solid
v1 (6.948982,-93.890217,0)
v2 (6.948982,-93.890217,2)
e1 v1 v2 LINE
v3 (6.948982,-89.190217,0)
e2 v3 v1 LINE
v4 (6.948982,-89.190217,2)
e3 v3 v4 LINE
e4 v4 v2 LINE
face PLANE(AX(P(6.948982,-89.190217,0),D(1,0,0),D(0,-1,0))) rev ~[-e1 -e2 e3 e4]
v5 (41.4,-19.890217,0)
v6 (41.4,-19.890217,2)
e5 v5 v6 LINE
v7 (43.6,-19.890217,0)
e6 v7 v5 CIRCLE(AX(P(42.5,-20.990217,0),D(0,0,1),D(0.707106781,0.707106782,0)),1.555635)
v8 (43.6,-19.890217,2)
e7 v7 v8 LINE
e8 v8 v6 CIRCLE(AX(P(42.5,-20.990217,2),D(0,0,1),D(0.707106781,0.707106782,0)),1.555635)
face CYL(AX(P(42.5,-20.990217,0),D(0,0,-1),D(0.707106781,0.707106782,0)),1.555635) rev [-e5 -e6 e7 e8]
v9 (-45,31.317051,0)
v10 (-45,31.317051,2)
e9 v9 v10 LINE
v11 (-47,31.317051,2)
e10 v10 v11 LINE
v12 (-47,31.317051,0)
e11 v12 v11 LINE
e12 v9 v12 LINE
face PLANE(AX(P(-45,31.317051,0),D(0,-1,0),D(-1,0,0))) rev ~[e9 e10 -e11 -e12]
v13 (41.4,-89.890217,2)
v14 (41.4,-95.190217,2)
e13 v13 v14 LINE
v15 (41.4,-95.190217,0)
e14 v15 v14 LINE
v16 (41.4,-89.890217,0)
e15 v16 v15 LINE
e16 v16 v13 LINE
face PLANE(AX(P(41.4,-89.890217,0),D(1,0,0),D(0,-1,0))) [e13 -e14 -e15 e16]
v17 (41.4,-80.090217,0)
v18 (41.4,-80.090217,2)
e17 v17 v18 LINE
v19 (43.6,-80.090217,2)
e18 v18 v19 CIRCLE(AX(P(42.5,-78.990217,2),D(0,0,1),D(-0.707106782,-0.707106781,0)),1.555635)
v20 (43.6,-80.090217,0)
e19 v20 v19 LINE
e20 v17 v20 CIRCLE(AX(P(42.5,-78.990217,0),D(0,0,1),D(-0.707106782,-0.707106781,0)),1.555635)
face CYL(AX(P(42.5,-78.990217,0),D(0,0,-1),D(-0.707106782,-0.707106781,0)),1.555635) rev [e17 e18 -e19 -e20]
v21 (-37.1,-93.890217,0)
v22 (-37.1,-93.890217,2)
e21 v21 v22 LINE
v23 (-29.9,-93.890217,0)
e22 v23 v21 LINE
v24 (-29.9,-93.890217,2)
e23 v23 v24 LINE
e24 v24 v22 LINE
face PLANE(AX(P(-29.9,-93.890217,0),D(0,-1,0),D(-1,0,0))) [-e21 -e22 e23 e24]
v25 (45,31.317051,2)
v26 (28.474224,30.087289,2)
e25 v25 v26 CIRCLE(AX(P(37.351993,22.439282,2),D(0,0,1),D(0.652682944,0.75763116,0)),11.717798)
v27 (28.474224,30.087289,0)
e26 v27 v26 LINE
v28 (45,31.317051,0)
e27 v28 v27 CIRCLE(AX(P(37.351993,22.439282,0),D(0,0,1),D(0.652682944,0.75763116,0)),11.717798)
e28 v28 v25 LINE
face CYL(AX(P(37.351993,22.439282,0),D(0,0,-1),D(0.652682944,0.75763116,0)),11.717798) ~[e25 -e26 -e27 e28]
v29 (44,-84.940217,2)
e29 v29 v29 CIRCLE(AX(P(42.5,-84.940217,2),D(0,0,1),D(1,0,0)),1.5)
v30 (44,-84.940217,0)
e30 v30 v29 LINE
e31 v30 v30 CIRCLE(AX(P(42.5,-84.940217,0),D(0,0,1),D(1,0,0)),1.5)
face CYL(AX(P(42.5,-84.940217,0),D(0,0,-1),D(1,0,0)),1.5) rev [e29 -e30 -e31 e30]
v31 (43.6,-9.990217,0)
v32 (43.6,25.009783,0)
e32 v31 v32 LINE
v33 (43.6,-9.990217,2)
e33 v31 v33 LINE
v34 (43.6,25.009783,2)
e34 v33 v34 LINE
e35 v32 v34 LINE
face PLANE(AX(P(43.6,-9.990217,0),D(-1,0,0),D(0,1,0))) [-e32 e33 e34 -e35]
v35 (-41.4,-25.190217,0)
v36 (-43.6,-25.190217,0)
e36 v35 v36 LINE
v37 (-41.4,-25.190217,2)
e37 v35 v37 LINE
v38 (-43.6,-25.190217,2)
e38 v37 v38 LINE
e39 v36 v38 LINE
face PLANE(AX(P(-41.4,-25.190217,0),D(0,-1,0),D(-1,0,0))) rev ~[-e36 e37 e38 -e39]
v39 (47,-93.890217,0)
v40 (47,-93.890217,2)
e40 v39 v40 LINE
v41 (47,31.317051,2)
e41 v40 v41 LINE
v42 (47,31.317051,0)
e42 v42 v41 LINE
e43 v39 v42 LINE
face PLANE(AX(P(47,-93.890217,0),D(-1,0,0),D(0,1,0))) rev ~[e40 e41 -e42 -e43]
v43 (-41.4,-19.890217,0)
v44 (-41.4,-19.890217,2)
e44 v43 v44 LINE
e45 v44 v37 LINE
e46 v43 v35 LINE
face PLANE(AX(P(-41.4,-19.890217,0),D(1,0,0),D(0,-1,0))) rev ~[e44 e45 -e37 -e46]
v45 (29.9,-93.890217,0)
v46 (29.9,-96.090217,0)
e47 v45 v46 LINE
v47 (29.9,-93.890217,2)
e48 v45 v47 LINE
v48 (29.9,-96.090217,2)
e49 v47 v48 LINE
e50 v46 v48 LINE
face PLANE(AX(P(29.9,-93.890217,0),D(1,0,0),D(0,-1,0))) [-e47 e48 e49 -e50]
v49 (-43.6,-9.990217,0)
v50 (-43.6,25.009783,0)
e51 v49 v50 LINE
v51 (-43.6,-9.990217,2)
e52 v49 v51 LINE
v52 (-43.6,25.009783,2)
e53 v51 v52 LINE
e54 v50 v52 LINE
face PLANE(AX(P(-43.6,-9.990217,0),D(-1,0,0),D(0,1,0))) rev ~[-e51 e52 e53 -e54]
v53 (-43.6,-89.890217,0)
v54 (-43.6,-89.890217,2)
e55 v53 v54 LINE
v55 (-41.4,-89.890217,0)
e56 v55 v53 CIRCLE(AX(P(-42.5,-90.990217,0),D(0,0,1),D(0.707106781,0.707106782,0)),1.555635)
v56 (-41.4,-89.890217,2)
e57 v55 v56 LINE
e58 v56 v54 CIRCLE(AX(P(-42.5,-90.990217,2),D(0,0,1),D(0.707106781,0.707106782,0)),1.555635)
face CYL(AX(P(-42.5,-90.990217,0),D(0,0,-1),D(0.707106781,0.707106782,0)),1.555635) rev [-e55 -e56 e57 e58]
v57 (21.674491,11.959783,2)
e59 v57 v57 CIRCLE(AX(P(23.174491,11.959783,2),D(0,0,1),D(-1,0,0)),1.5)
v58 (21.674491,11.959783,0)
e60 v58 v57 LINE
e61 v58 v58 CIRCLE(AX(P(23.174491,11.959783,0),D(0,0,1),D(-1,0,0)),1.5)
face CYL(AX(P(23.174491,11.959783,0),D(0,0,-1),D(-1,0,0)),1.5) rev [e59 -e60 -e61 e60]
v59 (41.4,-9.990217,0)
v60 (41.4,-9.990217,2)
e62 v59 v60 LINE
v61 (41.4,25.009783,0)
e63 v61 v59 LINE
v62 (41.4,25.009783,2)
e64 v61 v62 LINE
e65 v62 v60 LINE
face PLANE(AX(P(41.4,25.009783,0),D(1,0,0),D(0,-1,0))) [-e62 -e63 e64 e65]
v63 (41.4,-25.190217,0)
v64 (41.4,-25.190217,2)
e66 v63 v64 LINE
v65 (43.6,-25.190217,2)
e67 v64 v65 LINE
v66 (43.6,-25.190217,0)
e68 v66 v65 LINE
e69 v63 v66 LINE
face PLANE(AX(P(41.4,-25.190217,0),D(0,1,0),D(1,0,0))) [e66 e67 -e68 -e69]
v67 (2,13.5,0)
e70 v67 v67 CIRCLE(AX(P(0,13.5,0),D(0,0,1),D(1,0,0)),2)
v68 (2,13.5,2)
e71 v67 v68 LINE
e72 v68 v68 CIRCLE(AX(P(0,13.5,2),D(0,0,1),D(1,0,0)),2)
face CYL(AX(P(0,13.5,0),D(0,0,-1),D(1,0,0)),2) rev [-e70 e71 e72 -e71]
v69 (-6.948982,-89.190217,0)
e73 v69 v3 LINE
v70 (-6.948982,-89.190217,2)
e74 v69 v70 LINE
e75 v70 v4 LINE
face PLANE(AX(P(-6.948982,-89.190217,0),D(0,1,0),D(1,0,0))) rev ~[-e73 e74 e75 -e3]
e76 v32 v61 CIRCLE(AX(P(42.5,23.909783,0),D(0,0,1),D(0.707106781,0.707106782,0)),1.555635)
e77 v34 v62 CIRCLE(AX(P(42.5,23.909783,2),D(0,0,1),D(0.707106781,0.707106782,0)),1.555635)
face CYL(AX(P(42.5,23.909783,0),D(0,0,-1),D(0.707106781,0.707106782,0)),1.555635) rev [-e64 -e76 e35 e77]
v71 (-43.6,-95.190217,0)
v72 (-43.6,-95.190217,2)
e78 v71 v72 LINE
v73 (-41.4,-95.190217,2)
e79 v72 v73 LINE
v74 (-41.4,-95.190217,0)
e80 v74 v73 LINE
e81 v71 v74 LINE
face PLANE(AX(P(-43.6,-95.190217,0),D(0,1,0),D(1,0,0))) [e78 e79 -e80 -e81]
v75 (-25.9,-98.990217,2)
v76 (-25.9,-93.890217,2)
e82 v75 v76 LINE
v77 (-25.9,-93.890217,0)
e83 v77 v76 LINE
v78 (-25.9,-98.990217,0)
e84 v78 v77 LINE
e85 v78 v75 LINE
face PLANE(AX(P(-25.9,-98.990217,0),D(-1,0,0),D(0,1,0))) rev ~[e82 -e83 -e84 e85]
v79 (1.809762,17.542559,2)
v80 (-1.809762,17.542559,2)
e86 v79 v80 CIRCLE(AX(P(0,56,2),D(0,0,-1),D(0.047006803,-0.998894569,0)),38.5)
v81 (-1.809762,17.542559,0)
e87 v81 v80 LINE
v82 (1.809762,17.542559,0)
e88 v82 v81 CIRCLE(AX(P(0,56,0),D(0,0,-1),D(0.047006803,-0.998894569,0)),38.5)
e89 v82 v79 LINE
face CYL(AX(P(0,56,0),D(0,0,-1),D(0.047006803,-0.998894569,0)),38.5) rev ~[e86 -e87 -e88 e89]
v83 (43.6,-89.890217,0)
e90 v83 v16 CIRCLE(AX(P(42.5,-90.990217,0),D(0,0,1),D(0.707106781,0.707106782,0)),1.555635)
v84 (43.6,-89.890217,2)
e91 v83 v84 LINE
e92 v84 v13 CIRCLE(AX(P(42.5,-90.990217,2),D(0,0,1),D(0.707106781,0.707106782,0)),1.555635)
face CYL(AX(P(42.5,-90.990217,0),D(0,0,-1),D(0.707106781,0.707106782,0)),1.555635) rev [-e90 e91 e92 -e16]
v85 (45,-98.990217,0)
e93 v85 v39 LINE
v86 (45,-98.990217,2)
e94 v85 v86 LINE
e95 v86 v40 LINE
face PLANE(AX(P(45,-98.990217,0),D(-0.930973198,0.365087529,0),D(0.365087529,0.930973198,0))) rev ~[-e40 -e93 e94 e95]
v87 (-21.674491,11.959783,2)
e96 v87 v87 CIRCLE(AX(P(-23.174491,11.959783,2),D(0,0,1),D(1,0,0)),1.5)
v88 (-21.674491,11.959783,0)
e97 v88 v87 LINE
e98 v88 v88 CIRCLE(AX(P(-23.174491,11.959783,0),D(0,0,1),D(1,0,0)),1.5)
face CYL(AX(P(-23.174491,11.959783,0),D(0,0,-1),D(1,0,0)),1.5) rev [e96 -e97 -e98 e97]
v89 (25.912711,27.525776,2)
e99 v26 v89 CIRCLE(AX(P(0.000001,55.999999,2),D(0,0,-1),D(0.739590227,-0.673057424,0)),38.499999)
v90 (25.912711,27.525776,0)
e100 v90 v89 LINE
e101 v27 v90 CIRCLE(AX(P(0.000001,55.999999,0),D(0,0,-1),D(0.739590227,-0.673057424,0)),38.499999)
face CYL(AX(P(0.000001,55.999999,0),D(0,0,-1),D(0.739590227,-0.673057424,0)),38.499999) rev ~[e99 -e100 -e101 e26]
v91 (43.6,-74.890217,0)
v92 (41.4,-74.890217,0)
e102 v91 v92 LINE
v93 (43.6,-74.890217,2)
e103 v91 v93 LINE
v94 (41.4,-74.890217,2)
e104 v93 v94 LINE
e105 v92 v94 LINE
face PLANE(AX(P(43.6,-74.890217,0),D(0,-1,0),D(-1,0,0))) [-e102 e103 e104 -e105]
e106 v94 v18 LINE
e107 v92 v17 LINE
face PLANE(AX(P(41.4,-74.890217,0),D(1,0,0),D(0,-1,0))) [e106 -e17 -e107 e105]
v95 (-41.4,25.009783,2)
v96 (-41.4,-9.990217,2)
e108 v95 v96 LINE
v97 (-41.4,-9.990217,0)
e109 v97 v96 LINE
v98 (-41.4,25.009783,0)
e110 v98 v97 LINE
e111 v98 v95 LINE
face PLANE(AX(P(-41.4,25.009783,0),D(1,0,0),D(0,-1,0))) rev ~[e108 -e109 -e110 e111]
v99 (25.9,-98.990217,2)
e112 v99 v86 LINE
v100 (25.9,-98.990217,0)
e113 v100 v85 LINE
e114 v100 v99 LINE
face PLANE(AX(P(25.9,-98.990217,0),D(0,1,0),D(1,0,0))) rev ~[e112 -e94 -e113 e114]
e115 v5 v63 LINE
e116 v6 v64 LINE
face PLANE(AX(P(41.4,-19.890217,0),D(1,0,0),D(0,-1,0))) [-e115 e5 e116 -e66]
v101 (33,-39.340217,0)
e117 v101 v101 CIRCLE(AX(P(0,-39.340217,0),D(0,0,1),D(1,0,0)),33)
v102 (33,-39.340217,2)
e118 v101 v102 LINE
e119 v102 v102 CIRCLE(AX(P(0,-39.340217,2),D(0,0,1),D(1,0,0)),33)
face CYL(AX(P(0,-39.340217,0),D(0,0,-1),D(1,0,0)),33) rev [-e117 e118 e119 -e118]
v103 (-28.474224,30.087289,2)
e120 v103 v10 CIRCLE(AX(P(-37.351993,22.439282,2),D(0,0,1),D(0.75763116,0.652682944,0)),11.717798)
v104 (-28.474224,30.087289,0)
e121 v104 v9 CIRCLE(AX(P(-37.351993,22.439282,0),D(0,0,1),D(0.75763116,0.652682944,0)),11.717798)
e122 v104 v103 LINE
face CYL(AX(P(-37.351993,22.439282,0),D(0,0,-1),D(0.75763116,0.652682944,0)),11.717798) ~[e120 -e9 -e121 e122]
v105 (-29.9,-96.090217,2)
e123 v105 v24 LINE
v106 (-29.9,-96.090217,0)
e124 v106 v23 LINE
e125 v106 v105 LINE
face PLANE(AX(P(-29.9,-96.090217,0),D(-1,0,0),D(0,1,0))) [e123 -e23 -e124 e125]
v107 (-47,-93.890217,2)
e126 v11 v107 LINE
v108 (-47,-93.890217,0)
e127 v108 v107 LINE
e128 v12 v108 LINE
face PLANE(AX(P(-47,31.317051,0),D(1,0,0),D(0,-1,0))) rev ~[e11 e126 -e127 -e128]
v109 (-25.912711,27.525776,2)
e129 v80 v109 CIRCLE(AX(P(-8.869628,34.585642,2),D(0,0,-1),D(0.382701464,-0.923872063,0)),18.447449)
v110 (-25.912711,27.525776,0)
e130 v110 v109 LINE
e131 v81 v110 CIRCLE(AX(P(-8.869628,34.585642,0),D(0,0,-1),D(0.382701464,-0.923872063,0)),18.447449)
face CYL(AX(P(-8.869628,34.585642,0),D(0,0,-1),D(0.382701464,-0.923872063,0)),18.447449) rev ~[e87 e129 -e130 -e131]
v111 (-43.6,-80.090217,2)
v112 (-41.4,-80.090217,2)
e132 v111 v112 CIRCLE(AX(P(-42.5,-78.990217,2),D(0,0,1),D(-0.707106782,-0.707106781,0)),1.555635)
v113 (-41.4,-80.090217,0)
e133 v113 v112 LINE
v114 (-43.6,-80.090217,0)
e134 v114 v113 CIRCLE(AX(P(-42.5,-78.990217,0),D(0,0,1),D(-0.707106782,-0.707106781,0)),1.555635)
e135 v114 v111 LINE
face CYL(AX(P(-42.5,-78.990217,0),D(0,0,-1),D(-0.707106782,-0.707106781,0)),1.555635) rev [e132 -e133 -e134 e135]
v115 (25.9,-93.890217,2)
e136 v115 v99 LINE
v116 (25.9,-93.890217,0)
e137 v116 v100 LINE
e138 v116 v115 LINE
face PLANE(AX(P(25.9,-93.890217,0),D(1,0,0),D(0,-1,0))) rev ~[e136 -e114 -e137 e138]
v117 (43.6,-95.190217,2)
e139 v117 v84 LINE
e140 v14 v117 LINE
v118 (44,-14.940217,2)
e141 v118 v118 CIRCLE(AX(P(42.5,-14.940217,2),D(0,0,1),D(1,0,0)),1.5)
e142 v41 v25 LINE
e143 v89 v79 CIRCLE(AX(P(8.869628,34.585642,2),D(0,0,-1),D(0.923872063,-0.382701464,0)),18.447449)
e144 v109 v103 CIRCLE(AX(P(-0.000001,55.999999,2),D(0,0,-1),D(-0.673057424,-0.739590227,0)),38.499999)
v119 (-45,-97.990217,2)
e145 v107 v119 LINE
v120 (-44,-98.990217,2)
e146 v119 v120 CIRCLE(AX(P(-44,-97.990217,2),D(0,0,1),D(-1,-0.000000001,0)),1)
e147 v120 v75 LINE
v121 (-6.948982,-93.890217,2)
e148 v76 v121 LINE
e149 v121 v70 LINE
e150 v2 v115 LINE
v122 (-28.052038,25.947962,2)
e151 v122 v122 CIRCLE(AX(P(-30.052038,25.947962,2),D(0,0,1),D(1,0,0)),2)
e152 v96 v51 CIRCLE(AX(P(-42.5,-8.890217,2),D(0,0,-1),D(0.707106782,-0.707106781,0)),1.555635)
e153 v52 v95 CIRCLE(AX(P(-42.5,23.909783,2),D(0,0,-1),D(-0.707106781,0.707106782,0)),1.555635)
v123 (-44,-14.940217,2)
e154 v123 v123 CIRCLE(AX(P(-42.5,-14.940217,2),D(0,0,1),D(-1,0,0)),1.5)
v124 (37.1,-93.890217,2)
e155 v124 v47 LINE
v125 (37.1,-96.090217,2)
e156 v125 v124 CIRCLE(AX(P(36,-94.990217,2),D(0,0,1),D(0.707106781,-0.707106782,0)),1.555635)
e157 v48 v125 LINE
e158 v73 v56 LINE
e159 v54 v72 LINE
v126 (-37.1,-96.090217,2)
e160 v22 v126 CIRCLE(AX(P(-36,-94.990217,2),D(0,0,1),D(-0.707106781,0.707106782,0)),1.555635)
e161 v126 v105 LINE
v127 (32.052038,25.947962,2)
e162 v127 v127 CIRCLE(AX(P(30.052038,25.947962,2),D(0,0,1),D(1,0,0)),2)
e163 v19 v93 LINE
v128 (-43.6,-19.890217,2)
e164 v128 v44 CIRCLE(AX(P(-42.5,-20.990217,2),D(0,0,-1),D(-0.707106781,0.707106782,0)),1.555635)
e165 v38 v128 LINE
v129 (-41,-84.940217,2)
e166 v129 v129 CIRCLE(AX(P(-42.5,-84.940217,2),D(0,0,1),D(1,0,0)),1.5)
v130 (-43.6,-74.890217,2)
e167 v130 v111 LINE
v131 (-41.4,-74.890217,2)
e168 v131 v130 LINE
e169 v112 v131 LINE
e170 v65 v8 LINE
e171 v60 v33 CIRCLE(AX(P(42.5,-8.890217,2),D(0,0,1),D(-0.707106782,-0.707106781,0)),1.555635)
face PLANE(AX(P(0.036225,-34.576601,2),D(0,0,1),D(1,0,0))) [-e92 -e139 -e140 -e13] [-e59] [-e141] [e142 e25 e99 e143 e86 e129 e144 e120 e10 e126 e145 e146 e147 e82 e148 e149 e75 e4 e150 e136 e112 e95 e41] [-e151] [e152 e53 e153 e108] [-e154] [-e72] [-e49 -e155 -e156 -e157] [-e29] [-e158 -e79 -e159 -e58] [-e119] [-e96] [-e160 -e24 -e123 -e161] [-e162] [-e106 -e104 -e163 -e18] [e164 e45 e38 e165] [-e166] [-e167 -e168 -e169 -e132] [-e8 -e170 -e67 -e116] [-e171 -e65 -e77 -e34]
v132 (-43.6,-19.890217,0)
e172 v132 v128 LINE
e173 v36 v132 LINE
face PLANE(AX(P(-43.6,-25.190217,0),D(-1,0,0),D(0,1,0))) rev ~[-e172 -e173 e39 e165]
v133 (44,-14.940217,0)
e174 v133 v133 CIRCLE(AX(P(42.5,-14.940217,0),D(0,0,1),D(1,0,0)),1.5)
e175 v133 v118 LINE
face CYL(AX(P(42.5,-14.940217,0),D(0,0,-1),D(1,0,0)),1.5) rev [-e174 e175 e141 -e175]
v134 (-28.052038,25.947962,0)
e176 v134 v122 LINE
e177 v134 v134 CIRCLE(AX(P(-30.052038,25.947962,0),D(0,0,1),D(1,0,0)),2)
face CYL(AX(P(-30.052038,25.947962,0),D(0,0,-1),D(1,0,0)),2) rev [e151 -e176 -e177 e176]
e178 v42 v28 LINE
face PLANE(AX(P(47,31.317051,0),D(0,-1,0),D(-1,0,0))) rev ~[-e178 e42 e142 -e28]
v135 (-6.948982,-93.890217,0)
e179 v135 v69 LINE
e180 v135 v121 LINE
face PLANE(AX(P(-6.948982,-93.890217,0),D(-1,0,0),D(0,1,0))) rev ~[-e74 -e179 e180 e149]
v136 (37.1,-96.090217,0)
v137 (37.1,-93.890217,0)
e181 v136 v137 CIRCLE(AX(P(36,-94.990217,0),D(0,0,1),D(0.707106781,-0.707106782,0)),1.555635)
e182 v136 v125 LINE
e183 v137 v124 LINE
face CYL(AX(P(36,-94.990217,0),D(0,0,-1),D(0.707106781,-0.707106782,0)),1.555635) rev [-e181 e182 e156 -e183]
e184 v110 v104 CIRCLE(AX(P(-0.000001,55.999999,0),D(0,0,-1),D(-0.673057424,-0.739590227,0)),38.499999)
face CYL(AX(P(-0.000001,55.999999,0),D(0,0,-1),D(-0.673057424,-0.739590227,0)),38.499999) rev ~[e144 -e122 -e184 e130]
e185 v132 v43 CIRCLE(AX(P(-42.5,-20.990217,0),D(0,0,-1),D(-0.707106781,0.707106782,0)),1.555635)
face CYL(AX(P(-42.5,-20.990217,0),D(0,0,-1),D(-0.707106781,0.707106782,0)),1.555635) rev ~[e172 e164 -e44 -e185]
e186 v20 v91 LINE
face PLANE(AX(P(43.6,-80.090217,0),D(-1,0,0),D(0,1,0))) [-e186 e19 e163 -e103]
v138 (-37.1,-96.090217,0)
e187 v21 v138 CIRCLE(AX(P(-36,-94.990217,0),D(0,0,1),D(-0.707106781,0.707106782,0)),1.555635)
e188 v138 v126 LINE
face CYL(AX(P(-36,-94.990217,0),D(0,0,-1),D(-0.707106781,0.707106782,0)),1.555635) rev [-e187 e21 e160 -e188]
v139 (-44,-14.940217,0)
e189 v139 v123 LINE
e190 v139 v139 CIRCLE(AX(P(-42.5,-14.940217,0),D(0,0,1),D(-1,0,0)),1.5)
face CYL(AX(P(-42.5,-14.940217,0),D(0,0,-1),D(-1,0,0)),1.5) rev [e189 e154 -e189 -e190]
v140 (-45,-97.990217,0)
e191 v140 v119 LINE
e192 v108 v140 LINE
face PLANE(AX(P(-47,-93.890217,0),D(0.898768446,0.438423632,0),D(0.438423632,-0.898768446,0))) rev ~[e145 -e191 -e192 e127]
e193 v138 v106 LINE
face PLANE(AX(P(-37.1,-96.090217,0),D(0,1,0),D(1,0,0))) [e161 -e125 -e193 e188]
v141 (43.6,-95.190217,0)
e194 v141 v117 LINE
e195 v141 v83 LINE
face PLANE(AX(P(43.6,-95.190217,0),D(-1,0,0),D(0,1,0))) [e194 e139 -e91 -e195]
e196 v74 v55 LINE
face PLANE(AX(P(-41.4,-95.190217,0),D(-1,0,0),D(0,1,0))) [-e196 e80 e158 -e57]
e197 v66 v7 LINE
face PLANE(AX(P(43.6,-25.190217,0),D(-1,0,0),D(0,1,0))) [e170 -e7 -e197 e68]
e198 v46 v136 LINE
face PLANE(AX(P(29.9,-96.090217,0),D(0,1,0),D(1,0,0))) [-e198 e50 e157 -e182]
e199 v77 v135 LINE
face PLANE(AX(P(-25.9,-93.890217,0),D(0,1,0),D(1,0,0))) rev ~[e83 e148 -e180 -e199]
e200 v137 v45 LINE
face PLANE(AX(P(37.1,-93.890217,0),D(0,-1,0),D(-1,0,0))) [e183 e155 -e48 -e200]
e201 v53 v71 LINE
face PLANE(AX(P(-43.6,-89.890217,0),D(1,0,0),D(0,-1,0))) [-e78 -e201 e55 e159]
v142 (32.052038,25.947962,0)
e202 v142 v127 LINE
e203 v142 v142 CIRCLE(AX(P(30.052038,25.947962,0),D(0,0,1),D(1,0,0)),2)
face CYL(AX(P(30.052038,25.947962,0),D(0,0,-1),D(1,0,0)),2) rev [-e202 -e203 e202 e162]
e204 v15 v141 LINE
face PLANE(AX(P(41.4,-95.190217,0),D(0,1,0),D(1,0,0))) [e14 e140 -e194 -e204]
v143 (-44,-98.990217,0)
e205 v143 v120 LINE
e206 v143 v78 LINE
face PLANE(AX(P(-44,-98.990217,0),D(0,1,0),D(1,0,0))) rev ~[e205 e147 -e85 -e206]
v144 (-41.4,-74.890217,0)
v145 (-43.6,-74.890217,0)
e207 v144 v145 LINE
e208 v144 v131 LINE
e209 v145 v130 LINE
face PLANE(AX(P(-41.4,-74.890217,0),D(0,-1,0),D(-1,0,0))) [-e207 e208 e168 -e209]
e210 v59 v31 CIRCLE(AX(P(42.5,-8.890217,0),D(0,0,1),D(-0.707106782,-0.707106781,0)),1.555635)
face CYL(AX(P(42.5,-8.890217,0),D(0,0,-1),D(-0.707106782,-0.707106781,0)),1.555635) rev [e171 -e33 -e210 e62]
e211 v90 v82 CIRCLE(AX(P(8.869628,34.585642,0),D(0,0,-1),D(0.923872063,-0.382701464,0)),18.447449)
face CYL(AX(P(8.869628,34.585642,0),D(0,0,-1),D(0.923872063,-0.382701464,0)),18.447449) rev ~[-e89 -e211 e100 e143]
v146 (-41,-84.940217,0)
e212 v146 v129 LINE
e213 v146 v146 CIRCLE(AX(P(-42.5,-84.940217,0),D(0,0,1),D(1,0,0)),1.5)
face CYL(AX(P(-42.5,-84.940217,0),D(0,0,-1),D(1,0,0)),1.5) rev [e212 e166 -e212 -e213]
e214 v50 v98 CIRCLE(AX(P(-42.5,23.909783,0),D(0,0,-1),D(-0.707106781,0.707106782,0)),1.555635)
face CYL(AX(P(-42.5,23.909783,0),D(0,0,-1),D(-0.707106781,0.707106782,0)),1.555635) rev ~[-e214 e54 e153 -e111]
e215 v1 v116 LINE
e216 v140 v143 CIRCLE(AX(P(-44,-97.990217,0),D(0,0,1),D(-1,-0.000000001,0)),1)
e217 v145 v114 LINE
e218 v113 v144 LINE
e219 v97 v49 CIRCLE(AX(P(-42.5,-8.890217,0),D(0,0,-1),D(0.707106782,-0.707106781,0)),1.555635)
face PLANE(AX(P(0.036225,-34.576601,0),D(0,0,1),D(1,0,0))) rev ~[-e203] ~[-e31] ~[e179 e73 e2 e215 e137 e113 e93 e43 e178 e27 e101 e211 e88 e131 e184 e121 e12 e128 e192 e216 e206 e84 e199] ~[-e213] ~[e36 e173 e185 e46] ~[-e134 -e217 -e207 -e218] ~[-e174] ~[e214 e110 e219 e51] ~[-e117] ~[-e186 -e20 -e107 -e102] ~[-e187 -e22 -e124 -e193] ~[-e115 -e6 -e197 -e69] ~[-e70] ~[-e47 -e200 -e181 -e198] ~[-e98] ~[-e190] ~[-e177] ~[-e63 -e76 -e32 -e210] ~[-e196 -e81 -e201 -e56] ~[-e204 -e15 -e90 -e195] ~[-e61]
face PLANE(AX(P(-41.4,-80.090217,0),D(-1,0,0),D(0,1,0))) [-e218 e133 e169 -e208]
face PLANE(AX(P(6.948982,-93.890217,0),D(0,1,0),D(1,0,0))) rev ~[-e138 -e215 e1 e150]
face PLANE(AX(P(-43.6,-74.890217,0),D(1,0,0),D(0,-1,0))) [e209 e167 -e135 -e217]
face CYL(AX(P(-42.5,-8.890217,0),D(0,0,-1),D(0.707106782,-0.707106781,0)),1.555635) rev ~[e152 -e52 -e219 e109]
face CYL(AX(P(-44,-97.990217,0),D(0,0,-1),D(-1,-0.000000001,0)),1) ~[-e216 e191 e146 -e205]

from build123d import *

# Parameters (mm, degrees)
SKETCH_3_R      = 2
SKETCH_3_R_2    = 1.999999995
SKETCH_3_R_3    = 1.5
SKETCH_3_R_4    = 33
EXTRUDE_1_DEPTH = 2


with BuildPart() as part:
    # 草图3 → 凸台-拉伸1 (new body)
    with BuildSketch(Plane.XY):
        with BuildLine():
            Line((-47, 31.317051182), (-47, -93.890216685))
            Line((-47, -93.890216685), (-45, -97.990216685))
            ThreePointArc((-45, -97.990216685), (-44.707106781, -98.697323466), (-44, -98.990216685))
            Line((-44, -98.990216685), (-25.9, -98.990216685))
            Line((-25.9, -98.990216685), (-25.9, -97.990216685))
            Line((-25.9, -97.990216685), (-25.9, -93.890216685))
            Line((-25.9, -93.890216685), (-15.9, -93.890216685))
            Line((-15.9, -93.890216685), (-6.948981504, -93.890216685))
            Line((-6.948981504, -93.890216685), (-6.948981504, -89.190216685))
            Line((-6.948981504, -89.190216685), (6.948981504, -89.190216685))
            Line((6.948981504, -89.190216685), (6.948981504, -93.890216685))
            Line((6.948981504, -93.890216685), (15.9, -93.890216685))
            Line((15.9, -93.890216685), (25.9, -93.890216685))
            Line((25.9, -93.890216685), (25.9, -97.990216685))
            Line((25.9, -97.990216685), (25.9, -98.990216685))
            Line((25.9, -98.990216685), (45, -98.990216685))
            Line((45, -98.990216685), (47, -93.890216685))
            Line((47, -93.890216685), (47, 31.317051182))
            Line((47, 31.317051182), (45, 31.317051182))
            ThreePointArc((45, 31.317051182), (36.482419799, 34.124770496), (28.474223712, 30.087289143))
            ThreePointArc((28.474223712, 30.087289143), (27.223611076, 28.776388924), (25.912710857, 27.525776288))
            ThreePointArc((25.912710857, 27.525776288), (15.928828372, 17.542283516), (1.809761925, 17.542559084))
            ThreePointArc((1.809761925, 17.542559084), (0, 17.5), (-1.809761925, 17.542559084))
            ThreePointArc((-1.809761925, 17.542559084), (-15.928828372, 17.542283516), (-25.912710857, 27.525776288))
            ThreePointArc((-25.912710857, 27.525776288), (-27.223611076, 28.776388924), (-28.474223712, 30.087289143))
            ThreePointArc((-28.474223712, 30.087289143), (-36.482419799, 34.124770496), (-45, 31.317051182))
            Line((-45, 31.317051182), (-47, 31.317051182))
        make_face()
        with Locations((0, 13.5)):
            Circle(SKETCH_3_R, mode=Mode.SUBTRACT)
        with Locations((-30.052038202, 25.947961669)):
            Circle(SKETCH_3_R_2, mode=Mode.SUBTRACT)
        with Locations((30.052038109, 25.947961893)):
            Circle(SKETCH_3_R_2, mode=Mode.SUBTRACT)
        with Locations((-23.174490752, 11.959783315)):
            Circle(SKETCH_3_R_3, mode=Mode.SUBTRACT)
        with Locations(Location((23.174490752, 11.959783315, 0), (0, 0, 180))):
            Circle(SKETCH_3_R_3, mode=Mode.SUBTRACT)
        with Locations((42.5, -14.940216685)):
            Circle(SKETCH_3_R_3, mode=Mode.SUBTRACT)
        with Locations(Location((-42.5, -14.940216685, 0), (0, 0, 180))):
            Circle(SKETCH_3_R_3, mode=Mode.SUBTRACT)
        with Locations((0, -39.340216685)):
            Circle(SKETCH_3_R_4, mode=Mode.SUBTRACT)
        with Locations((42.5, -84.940216685)):
            Circle(SKETCH_3_R_3, mode=Mode.SUBTRACT)
        with Locations((-42.5, -84.940216685)):
            Circle(SKETCH_3_R_3, mode=Mode.SUBTRACT)
        with BuildLine():
            Line((-37.1, -96.090216685), (-29.9, -96.090216685))
            Line((-29.9, -96.090216685), (-29.9, -93.890216685))
            Line((-29.9, -93.890216685), (-37.1, -93.890216685))
            ThreePointArc((-37.1, -93.890216685), (-37.555634919, -94.990216685), (-37.1, -96.090216685))
        make_face(mode=Mode.SUBTRACT)
        with BuildLine():
            Line((-43.6, -9.990216685), (-43.6, 25.009783315))
            ThreePointArc((-43.6, 25.009783315), (-42.5, 25.465418233), (-41.4, 25.009783315))
            Line((-41.4, 25.009783315), (-41.4, -9.990216685))
            ThreePointArc((-41.4, -9.990216685), (-42.5, -10.445851604), (-43.6, -9.990216685))
        make_face(mode=Mode.SUBTRACT)
        with BuildLine():
            Line((-41.4, -19.890216685), (-41.4, -25.190216685))
            Line((-41.4, -25.190216685), (-43.6, -25.190216685))
            Line((-43.6, -25.190216685), (-43.6, -19.890216685))
            ThreePointArc((-43.6, -19.890216685), (-42.5, -19.434581767), (-41.4, -19.890216685))
        make_face(mode=Mode.SUBTRACT)
        with BuildLine():
            Line((37.1, -93.890216685), (29.9, -93.890216685))
            Line((29.9, -93.890216685), (29.9, -96.090216685))
            Line((29.9, -96.090216685), (37.1, -96.090216685))
            ThreePointArc((37.1, -96.090216685), (37.555634919, -94.990216685), (37.1, -93.890216685))
        make_face(mode=Mode.SUBTRACT)
        with BuildLine():
            Line((43.6, -25.190216685), (43.6, -19.890216685))
            ThreePointArc((43.6, -19.890216685), (42.5, -19.434581767), (41.4, -19.890216685))
            Line((41.4, -19.890216685), (41.4, -25.190216685))
            Line((41.4, -25.190216685), (43.6, -25.190216685))
        make_face(mode=Mode.SUBTRACT)
        with BuildLine():
            Line((43.6, -95.190216685), (43.6, -89.890216685))
            ThreePointArc((43.6, -89.890216685), (42.5, -89.434581767), (41.4, -89.890216685))
            Line((41.4, -89.890216685), (41.4, -95.190216685))
            Line((41.4, -95.190216685), (43.6, -95.190216685))
        make_face(mode=Mode.SUBTRACT)
        with BuildLine():
            Line((41.4, -74.890216685), (41.4, -80.090216685))
            ThreePointArc((41.4, -80.090216685), (42.5, -80.545851604), (43.6, -80.090216685))
            Line((43.6, -80.090216685), (43.6, -74.890216685))
            Line((43.6, -74.890216685), (41.4, -74.890216685))
        make_face(mode=Mode.SUBTRACT)
        with BuildLine():
            Line((-41.4, -95.190216685), (-41.4, -89.890216685))
            ThreePointArc((-41.4, -89.890216685), (-42.5, -89.434581767), (-43.6, -89.890216685))
            Line((-43.6, -89.890216685), (-43.6, -95.190216685))
            Line((-43.6, -95.190216685), (-41.4, -95.190216685))
        make_face(mode=Mode.SUBTRACT)
        with BuildLine():
            Line((-43.6, -74.890216685), (-43.6, -80.090216685))
            ThreePointArc((-43.6, -80.090216685), (-42.5, -80.545851604), (-41.4, -80.090216685))
            Line((-41.4, -80.090216685), (-41.4, -74.890216685))
            Line((-41.4, -74.890216685), (-43.6, -74.890216685))
        make_face(mode=Mode.SUBTRACT)
        with BuildLine():
            Line((41.4, 25.009783315), (41.4, -9.990216685))
            ThreePointArc((41.4, -9.990216685), (42.5, -10.445851604), (43.6, -9.990216685))
            Line((43.6, -9.990216685), (43.6, 25.009783315))
            ThreePointArc((43.6, 25.009783315), (42.5, 25.465418233), (41.4, 25.009783315))
        make_face(mode=Mode.SUBTRACT)
    extrude(amount=EXTRUDE_1_DEPTH)


solid = part.part
